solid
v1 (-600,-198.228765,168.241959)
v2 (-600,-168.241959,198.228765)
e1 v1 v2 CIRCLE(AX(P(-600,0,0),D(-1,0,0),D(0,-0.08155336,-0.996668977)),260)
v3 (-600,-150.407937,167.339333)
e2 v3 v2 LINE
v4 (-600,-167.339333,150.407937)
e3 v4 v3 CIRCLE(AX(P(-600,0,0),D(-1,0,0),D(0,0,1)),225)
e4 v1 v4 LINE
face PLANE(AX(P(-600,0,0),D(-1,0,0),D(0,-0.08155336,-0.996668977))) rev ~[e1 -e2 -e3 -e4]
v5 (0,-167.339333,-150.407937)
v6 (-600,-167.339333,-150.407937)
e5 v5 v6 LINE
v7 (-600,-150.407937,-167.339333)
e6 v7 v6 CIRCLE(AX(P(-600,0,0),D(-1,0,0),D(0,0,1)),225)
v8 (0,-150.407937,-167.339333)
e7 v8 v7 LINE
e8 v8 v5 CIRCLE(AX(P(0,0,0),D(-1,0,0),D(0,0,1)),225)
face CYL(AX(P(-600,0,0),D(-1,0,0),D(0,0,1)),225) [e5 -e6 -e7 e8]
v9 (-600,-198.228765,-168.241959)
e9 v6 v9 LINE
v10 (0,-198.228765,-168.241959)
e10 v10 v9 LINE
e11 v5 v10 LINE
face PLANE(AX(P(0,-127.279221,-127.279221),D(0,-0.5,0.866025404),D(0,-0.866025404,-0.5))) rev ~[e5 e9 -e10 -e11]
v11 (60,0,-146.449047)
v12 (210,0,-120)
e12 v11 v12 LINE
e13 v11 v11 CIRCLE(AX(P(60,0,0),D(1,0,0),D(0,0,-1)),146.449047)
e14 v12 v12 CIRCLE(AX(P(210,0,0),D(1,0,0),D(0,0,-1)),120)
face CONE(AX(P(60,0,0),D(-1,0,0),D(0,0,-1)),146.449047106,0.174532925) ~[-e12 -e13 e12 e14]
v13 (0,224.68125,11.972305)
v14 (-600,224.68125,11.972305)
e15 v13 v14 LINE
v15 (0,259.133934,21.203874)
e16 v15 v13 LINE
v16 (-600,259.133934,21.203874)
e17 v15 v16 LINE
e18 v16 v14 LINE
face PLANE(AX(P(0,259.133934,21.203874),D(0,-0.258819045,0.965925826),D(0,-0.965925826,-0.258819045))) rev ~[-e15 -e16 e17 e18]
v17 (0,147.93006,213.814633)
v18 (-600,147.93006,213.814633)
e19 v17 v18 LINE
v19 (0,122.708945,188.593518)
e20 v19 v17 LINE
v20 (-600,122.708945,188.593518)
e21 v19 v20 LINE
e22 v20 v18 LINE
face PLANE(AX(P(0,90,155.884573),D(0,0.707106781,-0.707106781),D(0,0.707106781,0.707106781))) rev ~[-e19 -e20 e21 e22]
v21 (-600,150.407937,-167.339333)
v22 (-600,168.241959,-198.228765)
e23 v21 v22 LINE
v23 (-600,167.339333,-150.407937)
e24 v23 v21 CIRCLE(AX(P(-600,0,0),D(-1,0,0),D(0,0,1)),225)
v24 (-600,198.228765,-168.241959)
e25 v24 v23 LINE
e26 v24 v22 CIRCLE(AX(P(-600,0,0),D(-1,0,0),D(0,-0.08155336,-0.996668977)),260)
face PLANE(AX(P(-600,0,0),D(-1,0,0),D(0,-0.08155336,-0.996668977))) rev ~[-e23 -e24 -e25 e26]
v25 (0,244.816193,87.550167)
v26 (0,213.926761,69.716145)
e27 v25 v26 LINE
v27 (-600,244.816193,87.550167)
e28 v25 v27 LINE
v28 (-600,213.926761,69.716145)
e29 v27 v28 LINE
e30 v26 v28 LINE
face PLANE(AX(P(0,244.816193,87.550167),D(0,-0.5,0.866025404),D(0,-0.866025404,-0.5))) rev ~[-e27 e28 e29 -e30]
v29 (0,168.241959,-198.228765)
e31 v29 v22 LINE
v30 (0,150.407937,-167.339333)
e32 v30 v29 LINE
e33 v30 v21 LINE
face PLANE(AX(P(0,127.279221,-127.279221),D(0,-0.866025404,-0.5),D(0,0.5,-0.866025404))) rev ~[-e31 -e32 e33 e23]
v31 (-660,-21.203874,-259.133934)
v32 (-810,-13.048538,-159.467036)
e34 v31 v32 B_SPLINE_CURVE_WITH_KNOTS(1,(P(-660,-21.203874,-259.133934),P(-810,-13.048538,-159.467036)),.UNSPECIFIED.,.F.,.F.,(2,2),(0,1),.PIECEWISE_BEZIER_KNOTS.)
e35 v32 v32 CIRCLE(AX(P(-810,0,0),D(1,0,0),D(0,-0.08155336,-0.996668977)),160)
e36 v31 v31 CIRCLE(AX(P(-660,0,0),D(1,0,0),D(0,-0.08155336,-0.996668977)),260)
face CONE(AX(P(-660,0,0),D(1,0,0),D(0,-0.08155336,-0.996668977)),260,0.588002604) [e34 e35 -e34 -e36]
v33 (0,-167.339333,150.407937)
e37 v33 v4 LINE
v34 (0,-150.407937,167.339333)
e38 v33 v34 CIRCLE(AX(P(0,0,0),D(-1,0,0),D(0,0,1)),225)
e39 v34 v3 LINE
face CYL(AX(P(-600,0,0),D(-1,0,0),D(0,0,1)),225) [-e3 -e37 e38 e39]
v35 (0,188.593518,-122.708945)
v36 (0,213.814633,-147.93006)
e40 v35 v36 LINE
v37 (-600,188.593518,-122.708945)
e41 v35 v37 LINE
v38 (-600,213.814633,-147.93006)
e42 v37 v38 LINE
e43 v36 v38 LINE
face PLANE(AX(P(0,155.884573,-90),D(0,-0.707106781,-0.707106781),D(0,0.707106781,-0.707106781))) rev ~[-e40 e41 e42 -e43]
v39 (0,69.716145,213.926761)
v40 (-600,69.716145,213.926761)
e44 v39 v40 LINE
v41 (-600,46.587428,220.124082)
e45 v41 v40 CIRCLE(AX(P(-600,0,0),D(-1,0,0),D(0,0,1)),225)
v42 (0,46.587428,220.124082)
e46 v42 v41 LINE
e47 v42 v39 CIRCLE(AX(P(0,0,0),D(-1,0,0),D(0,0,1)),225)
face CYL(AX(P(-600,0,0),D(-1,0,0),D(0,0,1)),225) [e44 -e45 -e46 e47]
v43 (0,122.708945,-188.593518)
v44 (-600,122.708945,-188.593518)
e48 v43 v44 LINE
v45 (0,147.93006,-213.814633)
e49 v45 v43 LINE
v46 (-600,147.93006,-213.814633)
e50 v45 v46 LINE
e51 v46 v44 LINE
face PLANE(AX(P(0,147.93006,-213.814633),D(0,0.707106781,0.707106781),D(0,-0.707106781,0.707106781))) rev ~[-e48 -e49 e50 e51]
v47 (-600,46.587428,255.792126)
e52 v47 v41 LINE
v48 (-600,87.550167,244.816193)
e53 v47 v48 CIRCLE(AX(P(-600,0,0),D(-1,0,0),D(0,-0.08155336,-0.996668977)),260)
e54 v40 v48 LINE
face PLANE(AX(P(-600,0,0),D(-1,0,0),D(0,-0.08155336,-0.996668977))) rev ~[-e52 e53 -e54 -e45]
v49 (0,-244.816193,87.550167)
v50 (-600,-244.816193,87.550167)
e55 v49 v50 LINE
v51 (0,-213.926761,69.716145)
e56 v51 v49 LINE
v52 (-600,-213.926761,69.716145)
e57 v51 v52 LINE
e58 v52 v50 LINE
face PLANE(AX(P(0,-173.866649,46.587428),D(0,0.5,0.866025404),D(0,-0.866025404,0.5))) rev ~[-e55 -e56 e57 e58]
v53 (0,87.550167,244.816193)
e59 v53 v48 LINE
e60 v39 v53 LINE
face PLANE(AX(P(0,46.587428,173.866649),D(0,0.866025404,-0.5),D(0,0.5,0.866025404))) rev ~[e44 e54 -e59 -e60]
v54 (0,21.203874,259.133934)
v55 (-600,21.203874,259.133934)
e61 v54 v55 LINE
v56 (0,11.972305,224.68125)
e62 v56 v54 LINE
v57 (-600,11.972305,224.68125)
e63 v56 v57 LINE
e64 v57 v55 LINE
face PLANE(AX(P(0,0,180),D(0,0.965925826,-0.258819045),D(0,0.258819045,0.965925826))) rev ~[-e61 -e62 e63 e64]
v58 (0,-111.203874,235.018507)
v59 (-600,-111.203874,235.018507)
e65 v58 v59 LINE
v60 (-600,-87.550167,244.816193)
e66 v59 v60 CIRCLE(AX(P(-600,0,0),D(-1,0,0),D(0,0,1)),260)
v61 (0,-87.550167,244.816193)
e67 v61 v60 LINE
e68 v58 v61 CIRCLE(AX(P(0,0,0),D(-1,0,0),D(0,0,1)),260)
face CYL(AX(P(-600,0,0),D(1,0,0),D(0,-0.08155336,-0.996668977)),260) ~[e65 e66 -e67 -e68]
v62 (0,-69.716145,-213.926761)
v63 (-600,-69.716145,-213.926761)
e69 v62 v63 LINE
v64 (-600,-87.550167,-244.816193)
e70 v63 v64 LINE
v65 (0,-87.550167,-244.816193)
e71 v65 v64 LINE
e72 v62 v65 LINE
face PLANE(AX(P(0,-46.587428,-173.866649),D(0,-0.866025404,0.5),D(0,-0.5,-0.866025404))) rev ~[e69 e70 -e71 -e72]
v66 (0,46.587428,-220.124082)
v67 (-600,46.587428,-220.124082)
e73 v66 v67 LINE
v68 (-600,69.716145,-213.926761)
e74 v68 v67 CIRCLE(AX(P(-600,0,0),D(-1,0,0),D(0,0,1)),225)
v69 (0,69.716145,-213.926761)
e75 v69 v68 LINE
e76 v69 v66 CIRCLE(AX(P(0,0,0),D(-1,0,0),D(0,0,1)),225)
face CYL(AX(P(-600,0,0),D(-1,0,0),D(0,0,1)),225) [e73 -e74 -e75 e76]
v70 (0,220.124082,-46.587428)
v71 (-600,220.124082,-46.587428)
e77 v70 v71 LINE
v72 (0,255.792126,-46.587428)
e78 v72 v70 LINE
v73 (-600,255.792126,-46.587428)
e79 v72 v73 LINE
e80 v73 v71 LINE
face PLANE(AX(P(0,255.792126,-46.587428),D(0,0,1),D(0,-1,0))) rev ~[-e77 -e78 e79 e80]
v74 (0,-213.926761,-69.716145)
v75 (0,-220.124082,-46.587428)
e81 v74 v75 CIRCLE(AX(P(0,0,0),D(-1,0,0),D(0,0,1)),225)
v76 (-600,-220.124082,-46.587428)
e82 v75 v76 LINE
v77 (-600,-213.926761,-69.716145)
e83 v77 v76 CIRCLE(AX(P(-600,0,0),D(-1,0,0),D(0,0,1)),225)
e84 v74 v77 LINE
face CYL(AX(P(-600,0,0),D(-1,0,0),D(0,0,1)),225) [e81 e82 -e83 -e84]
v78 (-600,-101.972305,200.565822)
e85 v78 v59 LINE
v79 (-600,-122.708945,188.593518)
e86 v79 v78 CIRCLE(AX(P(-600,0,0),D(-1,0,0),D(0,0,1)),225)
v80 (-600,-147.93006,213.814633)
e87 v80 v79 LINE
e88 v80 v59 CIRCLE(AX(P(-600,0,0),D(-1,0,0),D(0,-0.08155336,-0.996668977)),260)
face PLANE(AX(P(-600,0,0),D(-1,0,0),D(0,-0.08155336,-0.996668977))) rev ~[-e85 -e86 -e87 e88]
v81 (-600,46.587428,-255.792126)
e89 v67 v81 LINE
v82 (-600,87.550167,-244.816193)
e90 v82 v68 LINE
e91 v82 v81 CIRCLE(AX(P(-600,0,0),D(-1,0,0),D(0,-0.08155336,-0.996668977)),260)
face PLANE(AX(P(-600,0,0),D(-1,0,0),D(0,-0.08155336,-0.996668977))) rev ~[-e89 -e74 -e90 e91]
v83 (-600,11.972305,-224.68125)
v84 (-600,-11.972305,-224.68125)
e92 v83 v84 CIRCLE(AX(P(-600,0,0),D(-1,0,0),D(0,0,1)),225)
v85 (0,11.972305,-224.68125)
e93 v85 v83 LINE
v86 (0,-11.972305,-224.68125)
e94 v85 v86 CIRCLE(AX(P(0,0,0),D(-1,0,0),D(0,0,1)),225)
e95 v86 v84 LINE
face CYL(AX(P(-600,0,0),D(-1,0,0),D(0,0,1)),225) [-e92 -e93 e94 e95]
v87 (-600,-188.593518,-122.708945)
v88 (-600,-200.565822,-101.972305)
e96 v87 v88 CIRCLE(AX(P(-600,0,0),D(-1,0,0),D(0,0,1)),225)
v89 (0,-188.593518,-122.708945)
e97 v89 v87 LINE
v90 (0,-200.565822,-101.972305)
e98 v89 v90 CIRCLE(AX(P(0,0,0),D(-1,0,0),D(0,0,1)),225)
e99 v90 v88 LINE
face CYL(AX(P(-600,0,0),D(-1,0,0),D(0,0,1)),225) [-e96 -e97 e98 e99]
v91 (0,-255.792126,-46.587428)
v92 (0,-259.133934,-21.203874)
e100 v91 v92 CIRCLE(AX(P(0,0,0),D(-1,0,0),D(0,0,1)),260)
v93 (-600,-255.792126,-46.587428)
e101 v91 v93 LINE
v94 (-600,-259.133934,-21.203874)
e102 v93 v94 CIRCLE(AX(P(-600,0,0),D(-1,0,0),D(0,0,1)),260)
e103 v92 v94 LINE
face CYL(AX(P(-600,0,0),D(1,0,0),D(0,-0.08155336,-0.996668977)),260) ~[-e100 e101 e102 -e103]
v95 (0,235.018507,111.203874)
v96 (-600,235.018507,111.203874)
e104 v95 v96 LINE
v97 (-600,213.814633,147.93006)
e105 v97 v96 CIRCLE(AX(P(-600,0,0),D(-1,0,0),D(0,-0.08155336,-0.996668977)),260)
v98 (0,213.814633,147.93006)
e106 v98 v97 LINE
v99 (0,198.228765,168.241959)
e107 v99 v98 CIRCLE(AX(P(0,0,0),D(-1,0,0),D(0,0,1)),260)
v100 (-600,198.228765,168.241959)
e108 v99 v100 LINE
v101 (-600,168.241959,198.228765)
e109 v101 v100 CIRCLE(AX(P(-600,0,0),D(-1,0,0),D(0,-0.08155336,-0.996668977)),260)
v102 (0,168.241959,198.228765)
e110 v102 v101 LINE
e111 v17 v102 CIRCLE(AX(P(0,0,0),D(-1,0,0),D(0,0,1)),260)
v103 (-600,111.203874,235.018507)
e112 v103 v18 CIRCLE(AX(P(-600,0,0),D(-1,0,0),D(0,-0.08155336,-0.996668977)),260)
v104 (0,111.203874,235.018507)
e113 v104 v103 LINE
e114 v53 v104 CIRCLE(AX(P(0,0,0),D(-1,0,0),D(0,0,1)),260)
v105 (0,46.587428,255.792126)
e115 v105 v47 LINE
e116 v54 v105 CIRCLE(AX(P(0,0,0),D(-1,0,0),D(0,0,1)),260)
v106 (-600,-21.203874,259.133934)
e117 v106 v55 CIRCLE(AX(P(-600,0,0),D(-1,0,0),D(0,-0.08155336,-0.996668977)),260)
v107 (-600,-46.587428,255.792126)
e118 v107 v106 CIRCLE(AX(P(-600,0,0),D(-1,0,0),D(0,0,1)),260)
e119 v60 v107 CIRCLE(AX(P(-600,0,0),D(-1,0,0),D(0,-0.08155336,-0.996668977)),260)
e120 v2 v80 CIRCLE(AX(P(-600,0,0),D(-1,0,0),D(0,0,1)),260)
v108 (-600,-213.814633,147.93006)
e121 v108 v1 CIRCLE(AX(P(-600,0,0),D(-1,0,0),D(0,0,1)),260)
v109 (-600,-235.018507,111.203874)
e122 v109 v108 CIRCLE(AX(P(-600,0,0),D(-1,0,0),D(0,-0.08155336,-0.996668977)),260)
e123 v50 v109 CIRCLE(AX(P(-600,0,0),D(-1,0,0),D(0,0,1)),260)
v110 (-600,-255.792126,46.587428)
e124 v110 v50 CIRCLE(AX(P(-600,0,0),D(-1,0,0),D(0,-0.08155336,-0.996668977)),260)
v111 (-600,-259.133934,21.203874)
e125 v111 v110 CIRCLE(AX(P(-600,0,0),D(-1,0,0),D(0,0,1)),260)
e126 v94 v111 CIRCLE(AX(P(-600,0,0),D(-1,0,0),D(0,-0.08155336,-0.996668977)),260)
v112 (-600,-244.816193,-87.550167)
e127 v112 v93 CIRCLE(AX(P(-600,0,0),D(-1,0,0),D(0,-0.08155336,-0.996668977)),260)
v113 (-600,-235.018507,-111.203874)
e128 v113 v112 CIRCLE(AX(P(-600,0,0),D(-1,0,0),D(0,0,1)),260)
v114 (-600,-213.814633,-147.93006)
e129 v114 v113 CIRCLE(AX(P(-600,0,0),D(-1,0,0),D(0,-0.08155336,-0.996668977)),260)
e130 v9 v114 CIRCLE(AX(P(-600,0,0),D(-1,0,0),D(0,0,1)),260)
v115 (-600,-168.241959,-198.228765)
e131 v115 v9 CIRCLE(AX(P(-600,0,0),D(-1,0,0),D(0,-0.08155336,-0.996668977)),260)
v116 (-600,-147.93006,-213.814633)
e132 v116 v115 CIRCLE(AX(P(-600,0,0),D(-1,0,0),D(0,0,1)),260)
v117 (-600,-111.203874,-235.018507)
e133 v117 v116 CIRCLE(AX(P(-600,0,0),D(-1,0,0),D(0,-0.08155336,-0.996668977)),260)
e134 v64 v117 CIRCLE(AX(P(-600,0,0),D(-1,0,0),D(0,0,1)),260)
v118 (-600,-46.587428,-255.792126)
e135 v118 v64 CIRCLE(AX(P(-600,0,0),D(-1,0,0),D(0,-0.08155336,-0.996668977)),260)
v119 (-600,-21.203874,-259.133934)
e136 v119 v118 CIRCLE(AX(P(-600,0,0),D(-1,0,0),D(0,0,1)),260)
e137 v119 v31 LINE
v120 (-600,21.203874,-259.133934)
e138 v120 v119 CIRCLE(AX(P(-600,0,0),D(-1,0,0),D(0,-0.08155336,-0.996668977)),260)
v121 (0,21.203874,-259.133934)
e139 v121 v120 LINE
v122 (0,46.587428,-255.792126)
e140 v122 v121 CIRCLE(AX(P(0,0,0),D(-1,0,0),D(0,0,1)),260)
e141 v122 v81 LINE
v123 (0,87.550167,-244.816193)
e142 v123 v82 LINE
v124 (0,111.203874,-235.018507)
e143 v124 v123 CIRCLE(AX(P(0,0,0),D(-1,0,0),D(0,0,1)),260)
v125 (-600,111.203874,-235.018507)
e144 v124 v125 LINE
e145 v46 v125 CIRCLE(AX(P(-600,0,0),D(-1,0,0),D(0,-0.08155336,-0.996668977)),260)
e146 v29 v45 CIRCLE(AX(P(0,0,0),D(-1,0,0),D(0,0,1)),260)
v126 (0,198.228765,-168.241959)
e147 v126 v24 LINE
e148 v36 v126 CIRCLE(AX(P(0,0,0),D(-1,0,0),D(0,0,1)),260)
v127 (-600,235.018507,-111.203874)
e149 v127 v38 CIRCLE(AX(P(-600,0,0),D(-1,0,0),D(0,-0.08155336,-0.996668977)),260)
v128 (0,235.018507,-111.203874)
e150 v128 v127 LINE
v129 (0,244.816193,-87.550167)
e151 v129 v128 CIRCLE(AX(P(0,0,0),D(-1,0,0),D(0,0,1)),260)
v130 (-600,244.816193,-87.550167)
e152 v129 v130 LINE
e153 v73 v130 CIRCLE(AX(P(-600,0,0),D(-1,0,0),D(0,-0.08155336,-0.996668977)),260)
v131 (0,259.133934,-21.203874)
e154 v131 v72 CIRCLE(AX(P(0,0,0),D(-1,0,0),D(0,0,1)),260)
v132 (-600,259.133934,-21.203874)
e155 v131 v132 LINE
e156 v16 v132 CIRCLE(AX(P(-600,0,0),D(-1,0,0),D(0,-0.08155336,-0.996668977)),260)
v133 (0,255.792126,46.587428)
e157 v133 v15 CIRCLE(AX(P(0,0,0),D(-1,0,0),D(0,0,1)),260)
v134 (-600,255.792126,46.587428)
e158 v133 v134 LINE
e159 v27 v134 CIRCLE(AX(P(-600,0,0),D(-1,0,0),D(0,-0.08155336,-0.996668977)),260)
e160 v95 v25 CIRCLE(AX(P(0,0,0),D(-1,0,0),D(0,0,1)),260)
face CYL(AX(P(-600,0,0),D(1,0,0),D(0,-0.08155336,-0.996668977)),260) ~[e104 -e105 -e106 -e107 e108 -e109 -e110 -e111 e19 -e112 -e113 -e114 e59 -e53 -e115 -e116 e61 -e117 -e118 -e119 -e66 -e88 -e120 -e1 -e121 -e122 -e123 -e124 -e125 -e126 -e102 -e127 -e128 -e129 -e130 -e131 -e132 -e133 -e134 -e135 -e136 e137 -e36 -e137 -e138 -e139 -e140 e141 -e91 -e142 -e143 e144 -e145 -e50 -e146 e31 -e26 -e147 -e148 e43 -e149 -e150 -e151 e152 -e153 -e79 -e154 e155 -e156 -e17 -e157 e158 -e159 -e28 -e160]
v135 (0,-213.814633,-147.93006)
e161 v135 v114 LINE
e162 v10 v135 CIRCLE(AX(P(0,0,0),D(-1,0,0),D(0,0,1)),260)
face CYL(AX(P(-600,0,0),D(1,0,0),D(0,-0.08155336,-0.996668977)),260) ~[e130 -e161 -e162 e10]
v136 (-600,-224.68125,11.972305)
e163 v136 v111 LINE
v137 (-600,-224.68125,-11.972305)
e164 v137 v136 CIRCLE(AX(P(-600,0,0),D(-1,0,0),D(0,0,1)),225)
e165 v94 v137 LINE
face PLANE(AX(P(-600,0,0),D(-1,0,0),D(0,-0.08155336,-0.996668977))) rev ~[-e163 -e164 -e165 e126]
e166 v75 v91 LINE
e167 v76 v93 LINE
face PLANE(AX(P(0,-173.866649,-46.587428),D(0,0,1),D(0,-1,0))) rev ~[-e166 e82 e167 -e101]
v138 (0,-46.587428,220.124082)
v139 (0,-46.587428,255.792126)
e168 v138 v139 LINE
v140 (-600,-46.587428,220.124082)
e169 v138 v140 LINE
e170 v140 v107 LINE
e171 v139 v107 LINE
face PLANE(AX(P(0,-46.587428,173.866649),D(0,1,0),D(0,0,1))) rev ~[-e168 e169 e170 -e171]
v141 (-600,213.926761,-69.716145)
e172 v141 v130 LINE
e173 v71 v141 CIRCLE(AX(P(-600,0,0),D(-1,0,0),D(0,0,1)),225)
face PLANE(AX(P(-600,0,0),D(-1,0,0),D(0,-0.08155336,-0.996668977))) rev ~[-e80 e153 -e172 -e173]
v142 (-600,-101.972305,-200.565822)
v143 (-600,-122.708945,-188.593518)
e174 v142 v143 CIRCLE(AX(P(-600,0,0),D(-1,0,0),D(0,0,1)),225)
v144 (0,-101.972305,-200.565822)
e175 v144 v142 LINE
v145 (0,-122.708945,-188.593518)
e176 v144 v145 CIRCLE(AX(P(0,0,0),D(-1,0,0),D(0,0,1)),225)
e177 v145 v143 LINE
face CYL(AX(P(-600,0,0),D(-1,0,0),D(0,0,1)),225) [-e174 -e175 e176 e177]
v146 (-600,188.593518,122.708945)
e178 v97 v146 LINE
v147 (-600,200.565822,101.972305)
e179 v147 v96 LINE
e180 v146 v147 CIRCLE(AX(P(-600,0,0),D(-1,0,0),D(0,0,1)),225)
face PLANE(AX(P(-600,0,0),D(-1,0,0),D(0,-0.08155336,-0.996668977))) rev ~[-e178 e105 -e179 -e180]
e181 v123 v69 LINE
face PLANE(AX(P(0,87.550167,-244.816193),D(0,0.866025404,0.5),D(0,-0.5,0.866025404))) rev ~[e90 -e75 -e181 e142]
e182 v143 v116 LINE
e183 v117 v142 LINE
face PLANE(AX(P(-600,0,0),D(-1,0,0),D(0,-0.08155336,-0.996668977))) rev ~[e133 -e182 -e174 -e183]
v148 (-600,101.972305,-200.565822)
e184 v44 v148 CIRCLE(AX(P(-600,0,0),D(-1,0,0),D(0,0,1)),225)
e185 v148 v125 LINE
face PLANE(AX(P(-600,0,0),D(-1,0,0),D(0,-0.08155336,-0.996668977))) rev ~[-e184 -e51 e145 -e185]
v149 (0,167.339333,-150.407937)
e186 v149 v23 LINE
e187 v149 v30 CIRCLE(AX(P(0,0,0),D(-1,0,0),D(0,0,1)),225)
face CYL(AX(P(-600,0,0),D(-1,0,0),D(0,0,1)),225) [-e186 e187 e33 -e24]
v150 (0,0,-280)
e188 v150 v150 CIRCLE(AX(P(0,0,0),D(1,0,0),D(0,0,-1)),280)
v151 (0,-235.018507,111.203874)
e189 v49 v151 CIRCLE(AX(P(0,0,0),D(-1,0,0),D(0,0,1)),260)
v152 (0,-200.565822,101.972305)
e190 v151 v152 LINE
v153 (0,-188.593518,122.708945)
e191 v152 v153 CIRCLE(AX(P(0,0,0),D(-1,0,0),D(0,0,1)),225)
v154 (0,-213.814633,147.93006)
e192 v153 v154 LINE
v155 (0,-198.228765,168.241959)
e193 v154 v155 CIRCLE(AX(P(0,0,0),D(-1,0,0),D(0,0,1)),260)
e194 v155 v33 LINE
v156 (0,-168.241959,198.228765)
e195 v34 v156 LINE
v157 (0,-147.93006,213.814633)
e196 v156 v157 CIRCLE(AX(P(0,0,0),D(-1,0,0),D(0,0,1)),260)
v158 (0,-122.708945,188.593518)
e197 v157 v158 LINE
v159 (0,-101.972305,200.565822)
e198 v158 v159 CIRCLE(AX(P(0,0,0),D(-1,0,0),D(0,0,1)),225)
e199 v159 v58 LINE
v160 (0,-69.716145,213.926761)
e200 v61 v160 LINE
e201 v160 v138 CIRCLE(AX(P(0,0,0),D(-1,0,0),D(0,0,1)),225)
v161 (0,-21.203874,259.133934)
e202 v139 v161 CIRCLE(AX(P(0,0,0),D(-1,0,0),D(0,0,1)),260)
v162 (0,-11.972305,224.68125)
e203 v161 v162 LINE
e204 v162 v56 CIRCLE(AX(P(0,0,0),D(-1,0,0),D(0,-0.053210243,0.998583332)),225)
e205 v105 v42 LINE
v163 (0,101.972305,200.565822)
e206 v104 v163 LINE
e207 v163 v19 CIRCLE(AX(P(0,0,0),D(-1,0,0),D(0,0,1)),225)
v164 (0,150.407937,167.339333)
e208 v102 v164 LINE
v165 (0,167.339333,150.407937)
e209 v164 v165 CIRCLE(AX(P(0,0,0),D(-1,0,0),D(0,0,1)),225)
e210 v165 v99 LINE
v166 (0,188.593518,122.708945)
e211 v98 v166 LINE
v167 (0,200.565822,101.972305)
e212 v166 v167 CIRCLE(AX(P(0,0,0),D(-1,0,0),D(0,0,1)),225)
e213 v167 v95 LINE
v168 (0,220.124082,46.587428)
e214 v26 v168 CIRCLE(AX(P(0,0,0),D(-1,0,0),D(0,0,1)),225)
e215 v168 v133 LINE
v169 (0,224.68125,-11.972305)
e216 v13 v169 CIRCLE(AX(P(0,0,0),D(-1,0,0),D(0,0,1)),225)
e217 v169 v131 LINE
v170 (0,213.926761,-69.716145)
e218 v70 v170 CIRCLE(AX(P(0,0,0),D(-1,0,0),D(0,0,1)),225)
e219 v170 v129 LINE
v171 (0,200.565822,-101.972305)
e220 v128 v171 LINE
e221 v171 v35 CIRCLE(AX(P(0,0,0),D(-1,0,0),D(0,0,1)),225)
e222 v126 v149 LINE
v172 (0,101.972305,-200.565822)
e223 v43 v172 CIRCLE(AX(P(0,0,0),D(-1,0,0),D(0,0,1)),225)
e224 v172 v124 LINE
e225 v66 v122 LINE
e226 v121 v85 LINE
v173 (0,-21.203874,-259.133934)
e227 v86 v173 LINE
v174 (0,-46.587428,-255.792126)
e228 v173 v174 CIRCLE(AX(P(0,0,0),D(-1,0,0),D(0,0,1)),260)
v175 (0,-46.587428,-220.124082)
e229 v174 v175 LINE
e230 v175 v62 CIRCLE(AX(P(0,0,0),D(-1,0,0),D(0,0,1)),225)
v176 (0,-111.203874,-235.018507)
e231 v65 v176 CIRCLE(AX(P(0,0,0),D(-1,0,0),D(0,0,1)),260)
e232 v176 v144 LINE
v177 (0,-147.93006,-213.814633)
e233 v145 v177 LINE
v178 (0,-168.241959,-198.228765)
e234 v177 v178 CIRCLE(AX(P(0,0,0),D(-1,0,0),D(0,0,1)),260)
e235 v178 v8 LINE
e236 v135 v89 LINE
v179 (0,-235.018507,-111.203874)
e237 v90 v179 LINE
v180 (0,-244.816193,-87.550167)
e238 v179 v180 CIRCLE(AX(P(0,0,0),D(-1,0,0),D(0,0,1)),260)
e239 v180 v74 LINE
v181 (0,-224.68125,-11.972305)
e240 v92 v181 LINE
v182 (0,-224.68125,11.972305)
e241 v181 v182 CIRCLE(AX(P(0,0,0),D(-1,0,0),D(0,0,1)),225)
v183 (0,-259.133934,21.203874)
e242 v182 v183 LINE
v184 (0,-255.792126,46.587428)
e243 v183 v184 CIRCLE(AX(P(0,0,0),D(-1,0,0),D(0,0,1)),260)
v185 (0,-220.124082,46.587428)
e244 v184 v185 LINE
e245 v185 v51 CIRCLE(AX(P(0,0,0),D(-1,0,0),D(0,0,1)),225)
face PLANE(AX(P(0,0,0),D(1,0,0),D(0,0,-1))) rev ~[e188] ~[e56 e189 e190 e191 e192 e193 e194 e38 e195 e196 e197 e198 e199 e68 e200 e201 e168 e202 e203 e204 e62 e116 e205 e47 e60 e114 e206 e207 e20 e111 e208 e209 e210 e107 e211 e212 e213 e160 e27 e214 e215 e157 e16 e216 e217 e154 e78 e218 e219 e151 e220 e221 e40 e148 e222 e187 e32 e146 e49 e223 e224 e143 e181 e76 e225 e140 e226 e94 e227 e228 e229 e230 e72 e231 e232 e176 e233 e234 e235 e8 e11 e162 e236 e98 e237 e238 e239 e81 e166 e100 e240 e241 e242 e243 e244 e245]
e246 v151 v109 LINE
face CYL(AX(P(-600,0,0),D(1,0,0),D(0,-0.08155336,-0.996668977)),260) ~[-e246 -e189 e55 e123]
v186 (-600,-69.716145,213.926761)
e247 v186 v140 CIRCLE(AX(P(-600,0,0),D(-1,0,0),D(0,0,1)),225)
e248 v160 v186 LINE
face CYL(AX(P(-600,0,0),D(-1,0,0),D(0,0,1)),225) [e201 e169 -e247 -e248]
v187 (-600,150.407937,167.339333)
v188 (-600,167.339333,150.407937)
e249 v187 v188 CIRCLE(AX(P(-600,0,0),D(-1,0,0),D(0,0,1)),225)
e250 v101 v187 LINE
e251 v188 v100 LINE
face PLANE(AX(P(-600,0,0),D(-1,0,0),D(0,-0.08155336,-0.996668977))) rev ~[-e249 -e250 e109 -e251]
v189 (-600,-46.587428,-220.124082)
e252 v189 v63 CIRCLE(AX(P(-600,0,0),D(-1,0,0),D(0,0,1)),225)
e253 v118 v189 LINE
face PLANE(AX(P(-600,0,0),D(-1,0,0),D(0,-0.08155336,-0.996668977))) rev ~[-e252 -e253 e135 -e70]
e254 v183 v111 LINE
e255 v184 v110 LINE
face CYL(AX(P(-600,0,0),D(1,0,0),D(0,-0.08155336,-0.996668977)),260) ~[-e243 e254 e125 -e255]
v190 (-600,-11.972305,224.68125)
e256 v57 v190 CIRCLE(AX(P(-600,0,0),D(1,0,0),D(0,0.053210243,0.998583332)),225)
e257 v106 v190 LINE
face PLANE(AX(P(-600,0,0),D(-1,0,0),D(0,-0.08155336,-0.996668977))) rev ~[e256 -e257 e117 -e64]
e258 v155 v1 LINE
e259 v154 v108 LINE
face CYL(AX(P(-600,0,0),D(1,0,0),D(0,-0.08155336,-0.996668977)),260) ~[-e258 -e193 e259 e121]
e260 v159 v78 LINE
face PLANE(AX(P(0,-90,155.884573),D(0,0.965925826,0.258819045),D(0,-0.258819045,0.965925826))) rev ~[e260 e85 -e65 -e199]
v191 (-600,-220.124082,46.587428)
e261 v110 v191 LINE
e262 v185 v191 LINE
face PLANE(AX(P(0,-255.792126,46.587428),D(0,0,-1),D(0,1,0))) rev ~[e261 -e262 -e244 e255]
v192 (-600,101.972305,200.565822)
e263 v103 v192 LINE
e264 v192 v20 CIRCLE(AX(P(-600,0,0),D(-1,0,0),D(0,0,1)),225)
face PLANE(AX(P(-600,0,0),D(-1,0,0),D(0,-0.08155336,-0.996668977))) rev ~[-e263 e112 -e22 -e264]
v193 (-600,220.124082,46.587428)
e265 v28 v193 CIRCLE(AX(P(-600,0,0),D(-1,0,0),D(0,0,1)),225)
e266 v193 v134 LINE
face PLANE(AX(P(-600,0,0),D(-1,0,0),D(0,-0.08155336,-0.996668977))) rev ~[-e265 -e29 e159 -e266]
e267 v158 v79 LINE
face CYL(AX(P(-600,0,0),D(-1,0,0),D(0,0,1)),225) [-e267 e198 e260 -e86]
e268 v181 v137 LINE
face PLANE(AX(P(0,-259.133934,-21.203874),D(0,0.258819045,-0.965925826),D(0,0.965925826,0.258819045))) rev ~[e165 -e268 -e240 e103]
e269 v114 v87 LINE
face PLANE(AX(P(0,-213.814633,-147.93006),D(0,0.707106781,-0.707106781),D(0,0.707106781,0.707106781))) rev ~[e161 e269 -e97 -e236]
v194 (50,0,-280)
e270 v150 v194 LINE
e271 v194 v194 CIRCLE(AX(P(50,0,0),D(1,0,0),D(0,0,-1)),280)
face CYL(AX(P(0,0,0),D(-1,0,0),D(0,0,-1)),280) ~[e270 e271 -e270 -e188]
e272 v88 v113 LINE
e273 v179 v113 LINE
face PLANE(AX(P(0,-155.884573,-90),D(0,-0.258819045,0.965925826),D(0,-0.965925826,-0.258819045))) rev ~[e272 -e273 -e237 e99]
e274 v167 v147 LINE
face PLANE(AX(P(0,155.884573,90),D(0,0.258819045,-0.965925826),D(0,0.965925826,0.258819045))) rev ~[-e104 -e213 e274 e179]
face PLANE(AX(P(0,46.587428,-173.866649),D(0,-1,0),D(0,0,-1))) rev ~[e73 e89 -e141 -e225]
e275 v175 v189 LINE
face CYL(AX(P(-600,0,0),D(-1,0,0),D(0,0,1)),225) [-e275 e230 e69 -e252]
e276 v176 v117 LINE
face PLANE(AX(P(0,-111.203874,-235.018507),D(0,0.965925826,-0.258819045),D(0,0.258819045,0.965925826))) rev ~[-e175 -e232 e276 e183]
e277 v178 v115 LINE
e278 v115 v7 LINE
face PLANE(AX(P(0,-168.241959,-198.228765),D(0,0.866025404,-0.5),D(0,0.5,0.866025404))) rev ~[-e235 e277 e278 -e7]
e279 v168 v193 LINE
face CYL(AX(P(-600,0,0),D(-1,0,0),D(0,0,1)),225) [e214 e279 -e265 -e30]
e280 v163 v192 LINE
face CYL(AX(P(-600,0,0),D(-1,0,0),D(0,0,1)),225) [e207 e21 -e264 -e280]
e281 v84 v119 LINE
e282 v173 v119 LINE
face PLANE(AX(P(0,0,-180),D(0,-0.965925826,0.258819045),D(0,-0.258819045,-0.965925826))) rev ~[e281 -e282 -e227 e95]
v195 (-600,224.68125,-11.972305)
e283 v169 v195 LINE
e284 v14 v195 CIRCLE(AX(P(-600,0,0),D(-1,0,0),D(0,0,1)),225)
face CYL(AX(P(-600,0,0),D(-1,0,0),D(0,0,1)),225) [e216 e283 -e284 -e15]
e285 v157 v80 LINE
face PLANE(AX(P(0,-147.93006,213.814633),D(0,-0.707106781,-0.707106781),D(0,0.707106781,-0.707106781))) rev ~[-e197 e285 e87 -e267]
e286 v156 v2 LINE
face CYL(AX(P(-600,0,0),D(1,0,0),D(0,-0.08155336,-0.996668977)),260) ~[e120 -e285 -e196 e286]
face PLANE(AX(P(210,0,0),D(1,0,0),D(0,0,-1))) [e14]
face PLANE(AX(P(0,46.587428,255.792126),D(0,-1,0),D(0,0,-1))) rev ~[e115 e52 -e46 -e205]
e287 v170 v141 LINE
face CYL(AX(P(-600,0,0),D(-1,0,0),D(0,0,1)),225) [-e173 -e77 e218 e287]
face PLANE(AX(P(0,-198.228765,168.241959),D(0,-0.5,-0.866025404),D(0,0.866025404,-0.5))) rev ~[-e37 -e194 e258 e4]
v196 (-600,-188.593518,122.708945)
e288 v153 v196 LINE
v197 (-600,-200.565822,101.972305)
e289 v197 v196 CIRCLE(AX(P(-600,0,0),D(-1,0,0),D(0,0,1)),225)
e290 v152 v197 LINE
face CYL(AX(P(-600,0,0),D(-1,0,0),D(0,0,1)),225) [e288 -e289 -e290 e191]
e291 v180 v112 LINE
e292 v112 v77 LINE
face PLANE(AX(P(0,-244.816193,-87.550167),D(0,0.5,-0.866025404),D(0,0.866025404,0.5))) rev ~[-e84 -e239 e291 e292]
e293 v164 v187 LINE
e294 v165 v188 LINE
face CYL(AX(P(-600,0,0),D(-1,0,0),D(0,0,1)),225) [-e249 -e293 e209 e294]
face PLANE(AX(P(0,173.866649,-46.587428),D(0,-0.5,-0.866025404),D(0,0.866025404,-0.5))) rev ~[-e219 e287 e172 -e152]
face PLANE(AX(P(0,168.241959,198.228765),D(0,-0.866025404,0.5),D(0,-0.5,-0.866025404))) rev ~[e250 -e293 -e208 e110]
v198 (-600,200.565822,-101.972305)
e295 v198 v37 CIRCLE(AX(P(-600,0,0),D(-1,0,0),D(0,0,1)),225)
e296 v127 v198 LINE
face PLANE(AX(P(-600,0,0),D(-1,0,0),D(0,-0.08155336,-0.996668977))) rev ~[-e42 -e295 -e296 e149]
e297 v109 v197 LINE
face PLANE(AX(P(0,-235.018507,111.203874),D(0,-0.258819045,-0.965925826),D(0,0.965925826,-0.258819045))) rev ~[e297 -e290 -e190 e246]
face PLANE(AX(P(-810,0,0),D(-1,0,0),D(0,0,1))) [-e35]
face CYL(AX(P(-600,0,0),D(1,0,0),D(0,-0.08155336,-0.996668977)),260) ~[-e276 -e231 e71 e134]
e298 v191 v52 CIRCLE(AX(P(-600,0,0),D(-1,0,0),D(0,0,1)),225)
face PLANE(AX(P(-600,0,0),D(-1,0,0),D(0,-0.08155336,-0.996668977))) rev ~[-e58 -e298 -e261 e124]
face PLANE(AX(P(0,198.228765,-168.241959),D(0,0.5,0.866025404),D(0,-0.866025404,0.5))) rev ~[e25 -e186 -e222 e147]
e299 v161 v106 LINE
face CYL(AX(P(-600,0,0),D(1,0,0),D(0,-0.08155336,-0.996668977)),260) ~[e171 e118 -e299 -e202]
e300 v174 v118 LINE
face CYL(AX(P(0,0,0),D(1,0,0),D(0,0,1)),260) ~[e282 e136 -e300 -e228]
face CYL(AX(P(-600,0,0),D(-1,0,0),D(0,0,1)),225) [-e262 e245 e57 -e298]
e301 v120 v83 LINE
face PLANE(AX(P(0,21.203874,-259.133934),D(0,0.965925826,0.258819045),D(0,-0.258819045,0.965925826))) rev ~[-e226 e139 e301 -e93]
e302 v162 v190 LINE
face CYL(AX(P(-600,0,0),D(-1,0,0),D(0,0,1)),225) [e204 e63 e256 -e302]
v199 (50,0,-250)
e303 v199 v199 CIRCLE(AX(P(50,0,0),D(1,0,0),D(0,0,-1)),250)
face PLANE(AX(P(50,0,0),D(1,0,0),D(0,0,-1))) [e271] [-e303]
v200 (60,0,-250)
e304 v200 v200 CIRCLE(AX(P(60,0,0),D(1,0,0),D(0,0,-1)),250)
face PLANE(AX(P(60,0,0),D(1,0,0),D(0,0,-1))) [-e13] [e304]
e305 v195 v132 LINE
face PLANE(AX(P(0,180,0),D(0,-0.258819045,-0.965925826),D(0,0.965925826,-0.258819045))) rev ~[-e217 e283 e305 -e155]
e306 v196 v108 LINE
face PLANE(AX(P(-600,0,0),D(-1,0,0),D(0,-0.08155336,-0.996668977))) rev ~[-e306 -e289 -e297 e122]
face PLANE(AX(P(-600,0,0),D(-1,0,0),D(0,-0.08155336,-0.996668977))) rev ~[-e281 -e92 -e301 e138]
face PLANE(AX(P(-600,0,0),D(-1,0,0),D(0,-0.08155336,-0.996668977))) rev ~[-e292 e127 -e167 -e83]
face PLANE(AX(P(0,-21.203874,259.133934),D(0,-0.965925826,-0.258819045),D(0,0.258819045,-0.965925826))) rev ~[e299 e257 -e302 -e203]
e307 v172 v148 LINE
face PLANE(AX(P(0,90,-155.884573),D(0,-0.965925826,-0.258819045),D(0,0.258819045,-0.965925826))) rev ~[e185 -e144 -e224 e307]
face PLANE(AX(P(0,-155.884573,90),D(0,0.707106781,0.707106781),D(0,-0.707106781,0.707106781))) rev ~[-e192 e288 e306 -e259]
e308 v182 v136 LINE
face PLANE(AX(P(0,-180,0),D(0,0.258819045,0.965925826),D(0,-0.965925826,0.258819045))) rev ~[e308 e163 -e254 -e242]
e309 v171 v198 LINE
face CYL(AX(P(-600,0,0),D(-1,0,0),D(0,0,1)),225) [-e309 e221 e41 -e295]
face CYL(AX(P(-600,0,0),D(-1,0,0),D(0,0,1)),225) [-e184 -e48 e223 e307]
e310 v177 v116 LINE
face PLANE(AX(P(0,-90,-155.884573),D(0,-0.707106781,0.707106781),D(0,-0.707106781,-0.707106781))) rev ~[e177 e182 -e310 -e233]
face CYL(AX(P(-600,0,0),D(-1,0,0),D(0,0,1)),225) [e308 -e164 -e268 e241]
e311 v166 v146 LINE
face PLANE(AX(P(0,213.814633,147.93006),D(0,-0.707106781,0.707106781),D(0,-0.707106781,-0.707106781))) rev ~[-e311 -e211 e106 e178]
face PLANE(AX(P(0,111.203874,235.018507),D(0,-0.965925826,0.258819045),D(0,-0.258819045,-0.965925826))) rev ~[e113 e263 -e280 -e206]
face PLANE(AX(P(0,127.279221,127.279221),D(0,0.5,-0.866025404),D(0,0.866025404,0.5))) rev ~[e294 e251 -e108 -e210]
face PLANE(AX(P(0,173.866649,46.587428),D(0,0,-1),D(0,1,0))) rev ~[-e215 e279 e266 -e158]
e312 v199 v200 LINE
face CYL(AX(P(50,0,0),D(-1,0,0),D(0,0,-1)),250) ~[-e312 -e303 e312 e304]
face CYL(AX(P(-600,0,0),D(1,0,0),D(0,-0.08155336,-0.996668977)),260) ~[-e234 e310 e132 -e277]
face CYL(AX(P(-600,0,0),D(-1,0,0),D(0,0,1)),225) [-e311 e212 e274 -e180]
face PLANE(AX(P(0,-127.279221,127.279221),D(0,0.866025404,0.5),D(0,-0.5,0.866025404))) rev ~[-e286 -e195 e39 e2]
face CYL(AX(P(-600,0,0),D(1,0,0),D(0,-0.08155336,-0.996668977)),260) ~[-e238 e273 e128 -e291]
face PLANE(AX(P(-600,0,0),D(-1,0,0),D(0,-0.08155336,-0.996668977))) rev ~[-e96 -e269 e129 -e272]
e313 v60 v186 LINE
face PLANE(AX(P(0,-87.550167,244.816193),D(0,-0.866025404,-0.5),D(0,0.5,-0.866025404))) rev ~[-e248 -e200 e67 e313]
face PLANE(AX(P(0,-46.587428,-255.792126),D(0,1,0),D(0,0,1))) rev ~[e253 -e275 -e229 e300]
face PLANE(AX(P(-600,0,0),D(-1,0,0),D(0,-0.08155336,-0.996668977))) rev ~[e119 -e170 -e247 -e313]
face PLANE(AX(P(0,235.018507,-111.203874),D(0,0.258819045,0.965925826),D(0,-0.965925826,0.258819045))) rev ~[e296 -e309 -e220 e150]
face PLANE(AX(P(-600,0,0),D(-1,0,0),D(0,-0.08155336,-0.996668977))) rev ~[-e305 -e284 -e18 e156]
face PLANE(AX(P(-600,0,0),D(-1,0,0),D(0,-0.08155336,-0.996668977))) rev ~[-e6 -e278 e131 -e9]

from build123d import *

# Parameters (mm, degrees)
SKETCH1_R           = 280
BOSS_EXTRUDE1_DEPTH = 50
SKETCH2_R           = 250
BOSS_EXTRUDE2_DEPTH = 10
SKETCH3_R           = 120
BOSS_EXTRUDE3_DEPTH = 150
DRAFT1_ANGLE        = 10
SKETCH4_R           = 260
BOSS_EXTRUDE4_DEPTH = 600
CUT_EXTRUDE1_START  = -600
CUT_EXTRUDE1_DEPTH  = 600
SKETCH6_R           = 225
BOSS_EXTRUDE5_DEPTH = 600
SKETCH7_R           = 260
BOSS_EXTRUDE6_DEPTH = 60
SKETCH9_R           = 160


with BuildPart() as part:
    # Sketch1 → Boss-Extrude1 (new body)
    with BuildSketch(Plane(origin=(0, 0, 0), x_dir=(0, 0, -1), z_dir=(1, 0, 0))):
        Circle(SKETCH1_R)
    extrude(amount=BOSS_EXTRUDE1_DEPTH)

    # Sketch2 → Boss-Extrude2 (add)
    with BuildSketch(Plane(origin=(50, 0, 0), x_dir=(0, 0, -1), z_dir=(1, 0, 0))):
        Circle(SKETCH2_R)
    extrude(amount=BOSS_EXTRUDE2_DEPTH)

    # Sketch3 → Boss-Extrude3 (add)
    with BuildSketch(Plane(origin=(60, 0, 0), x_dir=(0, 0, -1), z_dir=(1, 0, 0))):
        Circle(SKETCH3_R)
    extrude(amount=BOSS_EXTRUDE3_DEPTH)

    # Draft1
    draft1_faces = [part.faces().sort_by_distance(p)[0] for p in [
        (135, 0, 120),
    ]]
    draft(draft1_faces, Plane(origin=(210, 0, 0), x_dir=(0, 0, 1), z_dir=(1, 0, 0)), DRAFT1_ANGLE)

    # Sketch4 → Boss-Extrude4 (add)
    with BuildSketch(Plane.ZY):
        Circle(SKETCH4_R)
    extrude(amount=BOSS_EXTRUDE4_DEPTH)

    # Sketch5 → Cut-Extrude1 (cut)
    with BuildSketch(Plane.ZY.offset(600).offset(CUT_EXTRUDE1_START)):
        with BuildLine():
            Line((87.550166574, 244.816192955), (46.587428118, 173.866648732))
            Line((46.587428118, 173.866648732), (46.587428118, 255.792125644))
            ThreePointArc((46.587428118, 255.792125644), (67.292951727, 251.140714835), (87.550166574, 244.816192955))
        make_face()
        with BuildLine():
            Line((21.203873704, 259.13393398), (0, 180))
            Line((0, 180), (-21.203873704, 259.13393398))
            ThreePointArc((-21.203873704, 259.13393398), (0, 260), (21.203873704, 259.13393398))
        make_face()
        with BuildLine():
            Line((147.930060276, 213.814632957), (90, 155.884572681))
            Line((90, 155.884572681), (111.203873704, 235.018506661))
            ThreePointArc((111.203873704, 235.018506661), (130, 225.166604984), (147.930060276, 213.814632957))
        make_face()
        with BuildLine():
            Line((198.228764836, 168.241959069), (127.279220614, 127.279220614))
            Line((127.279220614, 127.279220614), (168.241959069, 198.228764836))
            ThreePointArc((168.241959069, 198.228764836), (183.847763109, 183.847763109), (198.228764836, 168.241959069))
        make_face()
        with BuildLine():
            Line((235.018506661, 111.203873704), (155.884572681, 90))
            Line((155.884572681, 90), (213.814632957, 147.930060276))
            ThreePointArc((213.814632957, 147.930060276), (225.166604984, 130), (235.018506661, 111.203873704))
        make_face()
        with BuildLine():
            Line((255.792125644, 46.587428118), (173.866648732, 46.587428118))
            Line((173.866648732, 46.587428118), (244.816192955, 87.550166574))
            ThreePointArc((244.816192955, 87.550166574), (251.140714835, 67.292951727), (255.792125644, 46.587428118))
        make_face()
        with BuildLine():
            Line((259.13393398, -21.203873704), (180, 0))
            Line((180, 0), (259.13393398, 21.203873704))
            ThreePointArc((259.13393398, 21.203873704), (260, 0), (259.13393398, -21.203873704))
        make_face()
        with BuildLine():
            Line((244.816192955, -87.550166574), (173.866648732, -46.587428118))
            Line((173.866648732, -46.587428118), (255.792125644, -46.587428118))
            ThreePointArc((255.792125644, -46.587428118), (251.140714835, -67.292951727), (244.816192955, -87.550166574))
        make_face()
        with BuildLine():
            Line((213.814632957, -147.930060276), (155.884572681, -90))
            Line((155.884572681, -90), (235.018506661, -111.203873704))
            ThreePointArc((235.018506661, -111.203873704), (225.166604984, -130), (213.814632957, -147.930060276))
        make_face()
        with BuildLine():
            Line((168.241959069, -198.228764836), (127.279220614, -127.279220614))
            Line((127.279220614, -127.279220614), (198.228764836, -168.241959069))
            ThreePointArc((198.228764836, -168.241959069), (183.847763109, -183.847763109), (168.241959069, -198.228764836))
        make_face()
        with BuildLine():
            Line((111.203873704, -235.018506661), (90, -155.884572681))
            Line((90, -155.884572681), (147.930060276, -213.814632957))
            ThreePointArc((147.930060276, -213.814632957), (130, -225.166604984), (111.203873704, -235.018506661))
        make_face()
        with BuildLine():
            Line((46.587428118, -255.792125644), (46.587428118, -173.866648732))
            Line((46.587428118, -173.866648732), (87.550166574, -244.816192955))
            ThreePointArc((87.550166574, -244.816192955), (67.292951727, -251.140714835), (46.587428118, -255.792125644))
        make_face()
        with BuildLine():
            Line((-21.203873704, -259.13393398), (0, -180))
            Line((0, -180), (21.203873704, -259.13393398))
            ThreePointArc((21.203873704, -259.13393398), (0, -260), (-21.203873704, -259.13393398))
        make_face()
        with BuildLine():
            Line((-87.550166574, -244.816192955), (-46.587428118, -173.866648732))
            Line((-46.587428118, -173.866648732), (-46.587428118, -255.792125644))
            ThreePointArc((-46.587428118, -255.792125644), (-67.292951727, -251.140714835), (-87.550166574, -244.816192955))
        make_face()
        with BuildLine():
            Line((-147.930060276, -213.814632957), (-90, -155.884572681))
            Line((-90, -155.884572681), (-111.203873704, -235.018506661))
            ThreePointArc((-111.203873704, -235.018506661), (-130, -225.166604984), (-147.930060276, -213.814632957))
        make_face()
        with BuildLine():
            Line((-198.228764836, -168.241959069), (-127.279220614, -127.279220614))
            Line((-127.279220614, -127.279220614), (-168.241959069, -198.228764836))
            ThreePointArc((-168.241959069, -198.228764836), (-183.847763109, -183.847763109), (-198.228764836, -168.241959069))
        make_face()
        with BuildLine():
            Line((-235.018506661, -111.203873704), (-155.884572681, -90))
            Line((-155.884572681, -90), (-213.814632957, -147.930060276))
            ThreePointArc((-213.814632957, -147.930060276), (-225.166604984, -130), (-235.018506661, -111.203873704))
        make_face()
        with BuildLine():
            Line((-255.792125644, -46.587428118), (-173.866648732, -46.587428118))
            Line((-173.866648732, -46.587428118), (-244.816192955, -87.550166574))
            ThreePointArc((-244.816192955, -87.550166574), (-251.140714835, -67.292951727), (-255.792125644, -46.587428118))
        make_face()
        with BuildLine():
            Line((-259.13393398, 21.203873704), (-180, 0))
            Line((-180, 0), (-259.13393398, -21.203873704))
            ThreePointArc((-259.13393398, -21.203873704), (-260, 0), (-259.13393398, 21.203873704))
        make_face()
        with BuildLine():
            Line((-244.816192955, 87.550166574), (-173.866648732, 46.587428118))
            Line((-173.866648732, 46.587428118), (-255.792125644, 46.587428118))
            ThreePointArc((-255.792125644, 46.587428118), (-251.140714835, 67.292951727), (-244.816192955, 87.550166574))
        make_face()
        with BuildLine():
            Line((-213.814632957, 147.930060276), (-155.884572681, 90))
            Line((-155.884572681, 90), (-235.018506661, 111.203873704))
            ThreePointArc((-235.018506661, 111.203873704), (-225.166604984, 130), (-213.814632957, 147.930060276))
        make_face()
        with BuildLine():
            Line((-168.241959069, 198.228764836), (-127.279220614, 127.279220614))
            Line((-127.279220614, 127.279220614), (-198.228764836, 168.241959069))
            ThreePointArc((-198.228764836, 168.241959069), (-183.847763109, 183.847763109), (-168.241959069, 198.228764836))
        make_face()
        with BuildLine():
            Line((-111.203873704, 235.018506661), (-90, 155.884572681))
            Line((-90, 155.884572681), (-147.930060276, 213.814632957))
            ThreePointArc((-147.930060276, 213.814632957), (-130, 225.166604984), (-111.203873704, 235.018506661))
        make_face()
        with BuildLine():
            Line((-46.587428118, 255.792125644), (-46.587428118, 173.866648732))
            Line((-46.587428118, 173.866648732), (-87.550166574, 244.816192955))
            ThreePointArc((-87.550166574, 244.816192955), (-67.292951727, 251.140714835), (-46.587428118, 255.792125644))
        make_face()
    extrude(amount=CUT_EXTRUDE1_DEPTH, mode=Mode.SUBTRACT)

    # Sketch6 → Boss-Extrude5 (add)
    with BuildSketch(Plane.ZY.offset(600)):
        Circle(SKETCH6_R)
    extrude(amount=-BOSS_EXTRUDE5_DEPTH)

    # Sketch7 → Boss-Extrude6 (add)
    with BuildSketch(Plane.ZY.offset(600)):
        with Locations(Location((0, 0, 0), (0, 0, 184.677858529))):
            Circle(SKETCH7_R)
    extrude(amount=BOSS_EXTRUDE6_DEPTH)

    # Sketch9 → section 1 of loft1
    with BuildSketch(Plane.ZY.offset(810), mode=Mode.PRIVATE) as loft1_s1:
        Circle(SKETCH9_R)
    # loft from a face of the part (loft1)
    loft([part.faces().sort_by_distance((-660, 0, 0))[0], loft1_s1.sketch])


solid = part.part
